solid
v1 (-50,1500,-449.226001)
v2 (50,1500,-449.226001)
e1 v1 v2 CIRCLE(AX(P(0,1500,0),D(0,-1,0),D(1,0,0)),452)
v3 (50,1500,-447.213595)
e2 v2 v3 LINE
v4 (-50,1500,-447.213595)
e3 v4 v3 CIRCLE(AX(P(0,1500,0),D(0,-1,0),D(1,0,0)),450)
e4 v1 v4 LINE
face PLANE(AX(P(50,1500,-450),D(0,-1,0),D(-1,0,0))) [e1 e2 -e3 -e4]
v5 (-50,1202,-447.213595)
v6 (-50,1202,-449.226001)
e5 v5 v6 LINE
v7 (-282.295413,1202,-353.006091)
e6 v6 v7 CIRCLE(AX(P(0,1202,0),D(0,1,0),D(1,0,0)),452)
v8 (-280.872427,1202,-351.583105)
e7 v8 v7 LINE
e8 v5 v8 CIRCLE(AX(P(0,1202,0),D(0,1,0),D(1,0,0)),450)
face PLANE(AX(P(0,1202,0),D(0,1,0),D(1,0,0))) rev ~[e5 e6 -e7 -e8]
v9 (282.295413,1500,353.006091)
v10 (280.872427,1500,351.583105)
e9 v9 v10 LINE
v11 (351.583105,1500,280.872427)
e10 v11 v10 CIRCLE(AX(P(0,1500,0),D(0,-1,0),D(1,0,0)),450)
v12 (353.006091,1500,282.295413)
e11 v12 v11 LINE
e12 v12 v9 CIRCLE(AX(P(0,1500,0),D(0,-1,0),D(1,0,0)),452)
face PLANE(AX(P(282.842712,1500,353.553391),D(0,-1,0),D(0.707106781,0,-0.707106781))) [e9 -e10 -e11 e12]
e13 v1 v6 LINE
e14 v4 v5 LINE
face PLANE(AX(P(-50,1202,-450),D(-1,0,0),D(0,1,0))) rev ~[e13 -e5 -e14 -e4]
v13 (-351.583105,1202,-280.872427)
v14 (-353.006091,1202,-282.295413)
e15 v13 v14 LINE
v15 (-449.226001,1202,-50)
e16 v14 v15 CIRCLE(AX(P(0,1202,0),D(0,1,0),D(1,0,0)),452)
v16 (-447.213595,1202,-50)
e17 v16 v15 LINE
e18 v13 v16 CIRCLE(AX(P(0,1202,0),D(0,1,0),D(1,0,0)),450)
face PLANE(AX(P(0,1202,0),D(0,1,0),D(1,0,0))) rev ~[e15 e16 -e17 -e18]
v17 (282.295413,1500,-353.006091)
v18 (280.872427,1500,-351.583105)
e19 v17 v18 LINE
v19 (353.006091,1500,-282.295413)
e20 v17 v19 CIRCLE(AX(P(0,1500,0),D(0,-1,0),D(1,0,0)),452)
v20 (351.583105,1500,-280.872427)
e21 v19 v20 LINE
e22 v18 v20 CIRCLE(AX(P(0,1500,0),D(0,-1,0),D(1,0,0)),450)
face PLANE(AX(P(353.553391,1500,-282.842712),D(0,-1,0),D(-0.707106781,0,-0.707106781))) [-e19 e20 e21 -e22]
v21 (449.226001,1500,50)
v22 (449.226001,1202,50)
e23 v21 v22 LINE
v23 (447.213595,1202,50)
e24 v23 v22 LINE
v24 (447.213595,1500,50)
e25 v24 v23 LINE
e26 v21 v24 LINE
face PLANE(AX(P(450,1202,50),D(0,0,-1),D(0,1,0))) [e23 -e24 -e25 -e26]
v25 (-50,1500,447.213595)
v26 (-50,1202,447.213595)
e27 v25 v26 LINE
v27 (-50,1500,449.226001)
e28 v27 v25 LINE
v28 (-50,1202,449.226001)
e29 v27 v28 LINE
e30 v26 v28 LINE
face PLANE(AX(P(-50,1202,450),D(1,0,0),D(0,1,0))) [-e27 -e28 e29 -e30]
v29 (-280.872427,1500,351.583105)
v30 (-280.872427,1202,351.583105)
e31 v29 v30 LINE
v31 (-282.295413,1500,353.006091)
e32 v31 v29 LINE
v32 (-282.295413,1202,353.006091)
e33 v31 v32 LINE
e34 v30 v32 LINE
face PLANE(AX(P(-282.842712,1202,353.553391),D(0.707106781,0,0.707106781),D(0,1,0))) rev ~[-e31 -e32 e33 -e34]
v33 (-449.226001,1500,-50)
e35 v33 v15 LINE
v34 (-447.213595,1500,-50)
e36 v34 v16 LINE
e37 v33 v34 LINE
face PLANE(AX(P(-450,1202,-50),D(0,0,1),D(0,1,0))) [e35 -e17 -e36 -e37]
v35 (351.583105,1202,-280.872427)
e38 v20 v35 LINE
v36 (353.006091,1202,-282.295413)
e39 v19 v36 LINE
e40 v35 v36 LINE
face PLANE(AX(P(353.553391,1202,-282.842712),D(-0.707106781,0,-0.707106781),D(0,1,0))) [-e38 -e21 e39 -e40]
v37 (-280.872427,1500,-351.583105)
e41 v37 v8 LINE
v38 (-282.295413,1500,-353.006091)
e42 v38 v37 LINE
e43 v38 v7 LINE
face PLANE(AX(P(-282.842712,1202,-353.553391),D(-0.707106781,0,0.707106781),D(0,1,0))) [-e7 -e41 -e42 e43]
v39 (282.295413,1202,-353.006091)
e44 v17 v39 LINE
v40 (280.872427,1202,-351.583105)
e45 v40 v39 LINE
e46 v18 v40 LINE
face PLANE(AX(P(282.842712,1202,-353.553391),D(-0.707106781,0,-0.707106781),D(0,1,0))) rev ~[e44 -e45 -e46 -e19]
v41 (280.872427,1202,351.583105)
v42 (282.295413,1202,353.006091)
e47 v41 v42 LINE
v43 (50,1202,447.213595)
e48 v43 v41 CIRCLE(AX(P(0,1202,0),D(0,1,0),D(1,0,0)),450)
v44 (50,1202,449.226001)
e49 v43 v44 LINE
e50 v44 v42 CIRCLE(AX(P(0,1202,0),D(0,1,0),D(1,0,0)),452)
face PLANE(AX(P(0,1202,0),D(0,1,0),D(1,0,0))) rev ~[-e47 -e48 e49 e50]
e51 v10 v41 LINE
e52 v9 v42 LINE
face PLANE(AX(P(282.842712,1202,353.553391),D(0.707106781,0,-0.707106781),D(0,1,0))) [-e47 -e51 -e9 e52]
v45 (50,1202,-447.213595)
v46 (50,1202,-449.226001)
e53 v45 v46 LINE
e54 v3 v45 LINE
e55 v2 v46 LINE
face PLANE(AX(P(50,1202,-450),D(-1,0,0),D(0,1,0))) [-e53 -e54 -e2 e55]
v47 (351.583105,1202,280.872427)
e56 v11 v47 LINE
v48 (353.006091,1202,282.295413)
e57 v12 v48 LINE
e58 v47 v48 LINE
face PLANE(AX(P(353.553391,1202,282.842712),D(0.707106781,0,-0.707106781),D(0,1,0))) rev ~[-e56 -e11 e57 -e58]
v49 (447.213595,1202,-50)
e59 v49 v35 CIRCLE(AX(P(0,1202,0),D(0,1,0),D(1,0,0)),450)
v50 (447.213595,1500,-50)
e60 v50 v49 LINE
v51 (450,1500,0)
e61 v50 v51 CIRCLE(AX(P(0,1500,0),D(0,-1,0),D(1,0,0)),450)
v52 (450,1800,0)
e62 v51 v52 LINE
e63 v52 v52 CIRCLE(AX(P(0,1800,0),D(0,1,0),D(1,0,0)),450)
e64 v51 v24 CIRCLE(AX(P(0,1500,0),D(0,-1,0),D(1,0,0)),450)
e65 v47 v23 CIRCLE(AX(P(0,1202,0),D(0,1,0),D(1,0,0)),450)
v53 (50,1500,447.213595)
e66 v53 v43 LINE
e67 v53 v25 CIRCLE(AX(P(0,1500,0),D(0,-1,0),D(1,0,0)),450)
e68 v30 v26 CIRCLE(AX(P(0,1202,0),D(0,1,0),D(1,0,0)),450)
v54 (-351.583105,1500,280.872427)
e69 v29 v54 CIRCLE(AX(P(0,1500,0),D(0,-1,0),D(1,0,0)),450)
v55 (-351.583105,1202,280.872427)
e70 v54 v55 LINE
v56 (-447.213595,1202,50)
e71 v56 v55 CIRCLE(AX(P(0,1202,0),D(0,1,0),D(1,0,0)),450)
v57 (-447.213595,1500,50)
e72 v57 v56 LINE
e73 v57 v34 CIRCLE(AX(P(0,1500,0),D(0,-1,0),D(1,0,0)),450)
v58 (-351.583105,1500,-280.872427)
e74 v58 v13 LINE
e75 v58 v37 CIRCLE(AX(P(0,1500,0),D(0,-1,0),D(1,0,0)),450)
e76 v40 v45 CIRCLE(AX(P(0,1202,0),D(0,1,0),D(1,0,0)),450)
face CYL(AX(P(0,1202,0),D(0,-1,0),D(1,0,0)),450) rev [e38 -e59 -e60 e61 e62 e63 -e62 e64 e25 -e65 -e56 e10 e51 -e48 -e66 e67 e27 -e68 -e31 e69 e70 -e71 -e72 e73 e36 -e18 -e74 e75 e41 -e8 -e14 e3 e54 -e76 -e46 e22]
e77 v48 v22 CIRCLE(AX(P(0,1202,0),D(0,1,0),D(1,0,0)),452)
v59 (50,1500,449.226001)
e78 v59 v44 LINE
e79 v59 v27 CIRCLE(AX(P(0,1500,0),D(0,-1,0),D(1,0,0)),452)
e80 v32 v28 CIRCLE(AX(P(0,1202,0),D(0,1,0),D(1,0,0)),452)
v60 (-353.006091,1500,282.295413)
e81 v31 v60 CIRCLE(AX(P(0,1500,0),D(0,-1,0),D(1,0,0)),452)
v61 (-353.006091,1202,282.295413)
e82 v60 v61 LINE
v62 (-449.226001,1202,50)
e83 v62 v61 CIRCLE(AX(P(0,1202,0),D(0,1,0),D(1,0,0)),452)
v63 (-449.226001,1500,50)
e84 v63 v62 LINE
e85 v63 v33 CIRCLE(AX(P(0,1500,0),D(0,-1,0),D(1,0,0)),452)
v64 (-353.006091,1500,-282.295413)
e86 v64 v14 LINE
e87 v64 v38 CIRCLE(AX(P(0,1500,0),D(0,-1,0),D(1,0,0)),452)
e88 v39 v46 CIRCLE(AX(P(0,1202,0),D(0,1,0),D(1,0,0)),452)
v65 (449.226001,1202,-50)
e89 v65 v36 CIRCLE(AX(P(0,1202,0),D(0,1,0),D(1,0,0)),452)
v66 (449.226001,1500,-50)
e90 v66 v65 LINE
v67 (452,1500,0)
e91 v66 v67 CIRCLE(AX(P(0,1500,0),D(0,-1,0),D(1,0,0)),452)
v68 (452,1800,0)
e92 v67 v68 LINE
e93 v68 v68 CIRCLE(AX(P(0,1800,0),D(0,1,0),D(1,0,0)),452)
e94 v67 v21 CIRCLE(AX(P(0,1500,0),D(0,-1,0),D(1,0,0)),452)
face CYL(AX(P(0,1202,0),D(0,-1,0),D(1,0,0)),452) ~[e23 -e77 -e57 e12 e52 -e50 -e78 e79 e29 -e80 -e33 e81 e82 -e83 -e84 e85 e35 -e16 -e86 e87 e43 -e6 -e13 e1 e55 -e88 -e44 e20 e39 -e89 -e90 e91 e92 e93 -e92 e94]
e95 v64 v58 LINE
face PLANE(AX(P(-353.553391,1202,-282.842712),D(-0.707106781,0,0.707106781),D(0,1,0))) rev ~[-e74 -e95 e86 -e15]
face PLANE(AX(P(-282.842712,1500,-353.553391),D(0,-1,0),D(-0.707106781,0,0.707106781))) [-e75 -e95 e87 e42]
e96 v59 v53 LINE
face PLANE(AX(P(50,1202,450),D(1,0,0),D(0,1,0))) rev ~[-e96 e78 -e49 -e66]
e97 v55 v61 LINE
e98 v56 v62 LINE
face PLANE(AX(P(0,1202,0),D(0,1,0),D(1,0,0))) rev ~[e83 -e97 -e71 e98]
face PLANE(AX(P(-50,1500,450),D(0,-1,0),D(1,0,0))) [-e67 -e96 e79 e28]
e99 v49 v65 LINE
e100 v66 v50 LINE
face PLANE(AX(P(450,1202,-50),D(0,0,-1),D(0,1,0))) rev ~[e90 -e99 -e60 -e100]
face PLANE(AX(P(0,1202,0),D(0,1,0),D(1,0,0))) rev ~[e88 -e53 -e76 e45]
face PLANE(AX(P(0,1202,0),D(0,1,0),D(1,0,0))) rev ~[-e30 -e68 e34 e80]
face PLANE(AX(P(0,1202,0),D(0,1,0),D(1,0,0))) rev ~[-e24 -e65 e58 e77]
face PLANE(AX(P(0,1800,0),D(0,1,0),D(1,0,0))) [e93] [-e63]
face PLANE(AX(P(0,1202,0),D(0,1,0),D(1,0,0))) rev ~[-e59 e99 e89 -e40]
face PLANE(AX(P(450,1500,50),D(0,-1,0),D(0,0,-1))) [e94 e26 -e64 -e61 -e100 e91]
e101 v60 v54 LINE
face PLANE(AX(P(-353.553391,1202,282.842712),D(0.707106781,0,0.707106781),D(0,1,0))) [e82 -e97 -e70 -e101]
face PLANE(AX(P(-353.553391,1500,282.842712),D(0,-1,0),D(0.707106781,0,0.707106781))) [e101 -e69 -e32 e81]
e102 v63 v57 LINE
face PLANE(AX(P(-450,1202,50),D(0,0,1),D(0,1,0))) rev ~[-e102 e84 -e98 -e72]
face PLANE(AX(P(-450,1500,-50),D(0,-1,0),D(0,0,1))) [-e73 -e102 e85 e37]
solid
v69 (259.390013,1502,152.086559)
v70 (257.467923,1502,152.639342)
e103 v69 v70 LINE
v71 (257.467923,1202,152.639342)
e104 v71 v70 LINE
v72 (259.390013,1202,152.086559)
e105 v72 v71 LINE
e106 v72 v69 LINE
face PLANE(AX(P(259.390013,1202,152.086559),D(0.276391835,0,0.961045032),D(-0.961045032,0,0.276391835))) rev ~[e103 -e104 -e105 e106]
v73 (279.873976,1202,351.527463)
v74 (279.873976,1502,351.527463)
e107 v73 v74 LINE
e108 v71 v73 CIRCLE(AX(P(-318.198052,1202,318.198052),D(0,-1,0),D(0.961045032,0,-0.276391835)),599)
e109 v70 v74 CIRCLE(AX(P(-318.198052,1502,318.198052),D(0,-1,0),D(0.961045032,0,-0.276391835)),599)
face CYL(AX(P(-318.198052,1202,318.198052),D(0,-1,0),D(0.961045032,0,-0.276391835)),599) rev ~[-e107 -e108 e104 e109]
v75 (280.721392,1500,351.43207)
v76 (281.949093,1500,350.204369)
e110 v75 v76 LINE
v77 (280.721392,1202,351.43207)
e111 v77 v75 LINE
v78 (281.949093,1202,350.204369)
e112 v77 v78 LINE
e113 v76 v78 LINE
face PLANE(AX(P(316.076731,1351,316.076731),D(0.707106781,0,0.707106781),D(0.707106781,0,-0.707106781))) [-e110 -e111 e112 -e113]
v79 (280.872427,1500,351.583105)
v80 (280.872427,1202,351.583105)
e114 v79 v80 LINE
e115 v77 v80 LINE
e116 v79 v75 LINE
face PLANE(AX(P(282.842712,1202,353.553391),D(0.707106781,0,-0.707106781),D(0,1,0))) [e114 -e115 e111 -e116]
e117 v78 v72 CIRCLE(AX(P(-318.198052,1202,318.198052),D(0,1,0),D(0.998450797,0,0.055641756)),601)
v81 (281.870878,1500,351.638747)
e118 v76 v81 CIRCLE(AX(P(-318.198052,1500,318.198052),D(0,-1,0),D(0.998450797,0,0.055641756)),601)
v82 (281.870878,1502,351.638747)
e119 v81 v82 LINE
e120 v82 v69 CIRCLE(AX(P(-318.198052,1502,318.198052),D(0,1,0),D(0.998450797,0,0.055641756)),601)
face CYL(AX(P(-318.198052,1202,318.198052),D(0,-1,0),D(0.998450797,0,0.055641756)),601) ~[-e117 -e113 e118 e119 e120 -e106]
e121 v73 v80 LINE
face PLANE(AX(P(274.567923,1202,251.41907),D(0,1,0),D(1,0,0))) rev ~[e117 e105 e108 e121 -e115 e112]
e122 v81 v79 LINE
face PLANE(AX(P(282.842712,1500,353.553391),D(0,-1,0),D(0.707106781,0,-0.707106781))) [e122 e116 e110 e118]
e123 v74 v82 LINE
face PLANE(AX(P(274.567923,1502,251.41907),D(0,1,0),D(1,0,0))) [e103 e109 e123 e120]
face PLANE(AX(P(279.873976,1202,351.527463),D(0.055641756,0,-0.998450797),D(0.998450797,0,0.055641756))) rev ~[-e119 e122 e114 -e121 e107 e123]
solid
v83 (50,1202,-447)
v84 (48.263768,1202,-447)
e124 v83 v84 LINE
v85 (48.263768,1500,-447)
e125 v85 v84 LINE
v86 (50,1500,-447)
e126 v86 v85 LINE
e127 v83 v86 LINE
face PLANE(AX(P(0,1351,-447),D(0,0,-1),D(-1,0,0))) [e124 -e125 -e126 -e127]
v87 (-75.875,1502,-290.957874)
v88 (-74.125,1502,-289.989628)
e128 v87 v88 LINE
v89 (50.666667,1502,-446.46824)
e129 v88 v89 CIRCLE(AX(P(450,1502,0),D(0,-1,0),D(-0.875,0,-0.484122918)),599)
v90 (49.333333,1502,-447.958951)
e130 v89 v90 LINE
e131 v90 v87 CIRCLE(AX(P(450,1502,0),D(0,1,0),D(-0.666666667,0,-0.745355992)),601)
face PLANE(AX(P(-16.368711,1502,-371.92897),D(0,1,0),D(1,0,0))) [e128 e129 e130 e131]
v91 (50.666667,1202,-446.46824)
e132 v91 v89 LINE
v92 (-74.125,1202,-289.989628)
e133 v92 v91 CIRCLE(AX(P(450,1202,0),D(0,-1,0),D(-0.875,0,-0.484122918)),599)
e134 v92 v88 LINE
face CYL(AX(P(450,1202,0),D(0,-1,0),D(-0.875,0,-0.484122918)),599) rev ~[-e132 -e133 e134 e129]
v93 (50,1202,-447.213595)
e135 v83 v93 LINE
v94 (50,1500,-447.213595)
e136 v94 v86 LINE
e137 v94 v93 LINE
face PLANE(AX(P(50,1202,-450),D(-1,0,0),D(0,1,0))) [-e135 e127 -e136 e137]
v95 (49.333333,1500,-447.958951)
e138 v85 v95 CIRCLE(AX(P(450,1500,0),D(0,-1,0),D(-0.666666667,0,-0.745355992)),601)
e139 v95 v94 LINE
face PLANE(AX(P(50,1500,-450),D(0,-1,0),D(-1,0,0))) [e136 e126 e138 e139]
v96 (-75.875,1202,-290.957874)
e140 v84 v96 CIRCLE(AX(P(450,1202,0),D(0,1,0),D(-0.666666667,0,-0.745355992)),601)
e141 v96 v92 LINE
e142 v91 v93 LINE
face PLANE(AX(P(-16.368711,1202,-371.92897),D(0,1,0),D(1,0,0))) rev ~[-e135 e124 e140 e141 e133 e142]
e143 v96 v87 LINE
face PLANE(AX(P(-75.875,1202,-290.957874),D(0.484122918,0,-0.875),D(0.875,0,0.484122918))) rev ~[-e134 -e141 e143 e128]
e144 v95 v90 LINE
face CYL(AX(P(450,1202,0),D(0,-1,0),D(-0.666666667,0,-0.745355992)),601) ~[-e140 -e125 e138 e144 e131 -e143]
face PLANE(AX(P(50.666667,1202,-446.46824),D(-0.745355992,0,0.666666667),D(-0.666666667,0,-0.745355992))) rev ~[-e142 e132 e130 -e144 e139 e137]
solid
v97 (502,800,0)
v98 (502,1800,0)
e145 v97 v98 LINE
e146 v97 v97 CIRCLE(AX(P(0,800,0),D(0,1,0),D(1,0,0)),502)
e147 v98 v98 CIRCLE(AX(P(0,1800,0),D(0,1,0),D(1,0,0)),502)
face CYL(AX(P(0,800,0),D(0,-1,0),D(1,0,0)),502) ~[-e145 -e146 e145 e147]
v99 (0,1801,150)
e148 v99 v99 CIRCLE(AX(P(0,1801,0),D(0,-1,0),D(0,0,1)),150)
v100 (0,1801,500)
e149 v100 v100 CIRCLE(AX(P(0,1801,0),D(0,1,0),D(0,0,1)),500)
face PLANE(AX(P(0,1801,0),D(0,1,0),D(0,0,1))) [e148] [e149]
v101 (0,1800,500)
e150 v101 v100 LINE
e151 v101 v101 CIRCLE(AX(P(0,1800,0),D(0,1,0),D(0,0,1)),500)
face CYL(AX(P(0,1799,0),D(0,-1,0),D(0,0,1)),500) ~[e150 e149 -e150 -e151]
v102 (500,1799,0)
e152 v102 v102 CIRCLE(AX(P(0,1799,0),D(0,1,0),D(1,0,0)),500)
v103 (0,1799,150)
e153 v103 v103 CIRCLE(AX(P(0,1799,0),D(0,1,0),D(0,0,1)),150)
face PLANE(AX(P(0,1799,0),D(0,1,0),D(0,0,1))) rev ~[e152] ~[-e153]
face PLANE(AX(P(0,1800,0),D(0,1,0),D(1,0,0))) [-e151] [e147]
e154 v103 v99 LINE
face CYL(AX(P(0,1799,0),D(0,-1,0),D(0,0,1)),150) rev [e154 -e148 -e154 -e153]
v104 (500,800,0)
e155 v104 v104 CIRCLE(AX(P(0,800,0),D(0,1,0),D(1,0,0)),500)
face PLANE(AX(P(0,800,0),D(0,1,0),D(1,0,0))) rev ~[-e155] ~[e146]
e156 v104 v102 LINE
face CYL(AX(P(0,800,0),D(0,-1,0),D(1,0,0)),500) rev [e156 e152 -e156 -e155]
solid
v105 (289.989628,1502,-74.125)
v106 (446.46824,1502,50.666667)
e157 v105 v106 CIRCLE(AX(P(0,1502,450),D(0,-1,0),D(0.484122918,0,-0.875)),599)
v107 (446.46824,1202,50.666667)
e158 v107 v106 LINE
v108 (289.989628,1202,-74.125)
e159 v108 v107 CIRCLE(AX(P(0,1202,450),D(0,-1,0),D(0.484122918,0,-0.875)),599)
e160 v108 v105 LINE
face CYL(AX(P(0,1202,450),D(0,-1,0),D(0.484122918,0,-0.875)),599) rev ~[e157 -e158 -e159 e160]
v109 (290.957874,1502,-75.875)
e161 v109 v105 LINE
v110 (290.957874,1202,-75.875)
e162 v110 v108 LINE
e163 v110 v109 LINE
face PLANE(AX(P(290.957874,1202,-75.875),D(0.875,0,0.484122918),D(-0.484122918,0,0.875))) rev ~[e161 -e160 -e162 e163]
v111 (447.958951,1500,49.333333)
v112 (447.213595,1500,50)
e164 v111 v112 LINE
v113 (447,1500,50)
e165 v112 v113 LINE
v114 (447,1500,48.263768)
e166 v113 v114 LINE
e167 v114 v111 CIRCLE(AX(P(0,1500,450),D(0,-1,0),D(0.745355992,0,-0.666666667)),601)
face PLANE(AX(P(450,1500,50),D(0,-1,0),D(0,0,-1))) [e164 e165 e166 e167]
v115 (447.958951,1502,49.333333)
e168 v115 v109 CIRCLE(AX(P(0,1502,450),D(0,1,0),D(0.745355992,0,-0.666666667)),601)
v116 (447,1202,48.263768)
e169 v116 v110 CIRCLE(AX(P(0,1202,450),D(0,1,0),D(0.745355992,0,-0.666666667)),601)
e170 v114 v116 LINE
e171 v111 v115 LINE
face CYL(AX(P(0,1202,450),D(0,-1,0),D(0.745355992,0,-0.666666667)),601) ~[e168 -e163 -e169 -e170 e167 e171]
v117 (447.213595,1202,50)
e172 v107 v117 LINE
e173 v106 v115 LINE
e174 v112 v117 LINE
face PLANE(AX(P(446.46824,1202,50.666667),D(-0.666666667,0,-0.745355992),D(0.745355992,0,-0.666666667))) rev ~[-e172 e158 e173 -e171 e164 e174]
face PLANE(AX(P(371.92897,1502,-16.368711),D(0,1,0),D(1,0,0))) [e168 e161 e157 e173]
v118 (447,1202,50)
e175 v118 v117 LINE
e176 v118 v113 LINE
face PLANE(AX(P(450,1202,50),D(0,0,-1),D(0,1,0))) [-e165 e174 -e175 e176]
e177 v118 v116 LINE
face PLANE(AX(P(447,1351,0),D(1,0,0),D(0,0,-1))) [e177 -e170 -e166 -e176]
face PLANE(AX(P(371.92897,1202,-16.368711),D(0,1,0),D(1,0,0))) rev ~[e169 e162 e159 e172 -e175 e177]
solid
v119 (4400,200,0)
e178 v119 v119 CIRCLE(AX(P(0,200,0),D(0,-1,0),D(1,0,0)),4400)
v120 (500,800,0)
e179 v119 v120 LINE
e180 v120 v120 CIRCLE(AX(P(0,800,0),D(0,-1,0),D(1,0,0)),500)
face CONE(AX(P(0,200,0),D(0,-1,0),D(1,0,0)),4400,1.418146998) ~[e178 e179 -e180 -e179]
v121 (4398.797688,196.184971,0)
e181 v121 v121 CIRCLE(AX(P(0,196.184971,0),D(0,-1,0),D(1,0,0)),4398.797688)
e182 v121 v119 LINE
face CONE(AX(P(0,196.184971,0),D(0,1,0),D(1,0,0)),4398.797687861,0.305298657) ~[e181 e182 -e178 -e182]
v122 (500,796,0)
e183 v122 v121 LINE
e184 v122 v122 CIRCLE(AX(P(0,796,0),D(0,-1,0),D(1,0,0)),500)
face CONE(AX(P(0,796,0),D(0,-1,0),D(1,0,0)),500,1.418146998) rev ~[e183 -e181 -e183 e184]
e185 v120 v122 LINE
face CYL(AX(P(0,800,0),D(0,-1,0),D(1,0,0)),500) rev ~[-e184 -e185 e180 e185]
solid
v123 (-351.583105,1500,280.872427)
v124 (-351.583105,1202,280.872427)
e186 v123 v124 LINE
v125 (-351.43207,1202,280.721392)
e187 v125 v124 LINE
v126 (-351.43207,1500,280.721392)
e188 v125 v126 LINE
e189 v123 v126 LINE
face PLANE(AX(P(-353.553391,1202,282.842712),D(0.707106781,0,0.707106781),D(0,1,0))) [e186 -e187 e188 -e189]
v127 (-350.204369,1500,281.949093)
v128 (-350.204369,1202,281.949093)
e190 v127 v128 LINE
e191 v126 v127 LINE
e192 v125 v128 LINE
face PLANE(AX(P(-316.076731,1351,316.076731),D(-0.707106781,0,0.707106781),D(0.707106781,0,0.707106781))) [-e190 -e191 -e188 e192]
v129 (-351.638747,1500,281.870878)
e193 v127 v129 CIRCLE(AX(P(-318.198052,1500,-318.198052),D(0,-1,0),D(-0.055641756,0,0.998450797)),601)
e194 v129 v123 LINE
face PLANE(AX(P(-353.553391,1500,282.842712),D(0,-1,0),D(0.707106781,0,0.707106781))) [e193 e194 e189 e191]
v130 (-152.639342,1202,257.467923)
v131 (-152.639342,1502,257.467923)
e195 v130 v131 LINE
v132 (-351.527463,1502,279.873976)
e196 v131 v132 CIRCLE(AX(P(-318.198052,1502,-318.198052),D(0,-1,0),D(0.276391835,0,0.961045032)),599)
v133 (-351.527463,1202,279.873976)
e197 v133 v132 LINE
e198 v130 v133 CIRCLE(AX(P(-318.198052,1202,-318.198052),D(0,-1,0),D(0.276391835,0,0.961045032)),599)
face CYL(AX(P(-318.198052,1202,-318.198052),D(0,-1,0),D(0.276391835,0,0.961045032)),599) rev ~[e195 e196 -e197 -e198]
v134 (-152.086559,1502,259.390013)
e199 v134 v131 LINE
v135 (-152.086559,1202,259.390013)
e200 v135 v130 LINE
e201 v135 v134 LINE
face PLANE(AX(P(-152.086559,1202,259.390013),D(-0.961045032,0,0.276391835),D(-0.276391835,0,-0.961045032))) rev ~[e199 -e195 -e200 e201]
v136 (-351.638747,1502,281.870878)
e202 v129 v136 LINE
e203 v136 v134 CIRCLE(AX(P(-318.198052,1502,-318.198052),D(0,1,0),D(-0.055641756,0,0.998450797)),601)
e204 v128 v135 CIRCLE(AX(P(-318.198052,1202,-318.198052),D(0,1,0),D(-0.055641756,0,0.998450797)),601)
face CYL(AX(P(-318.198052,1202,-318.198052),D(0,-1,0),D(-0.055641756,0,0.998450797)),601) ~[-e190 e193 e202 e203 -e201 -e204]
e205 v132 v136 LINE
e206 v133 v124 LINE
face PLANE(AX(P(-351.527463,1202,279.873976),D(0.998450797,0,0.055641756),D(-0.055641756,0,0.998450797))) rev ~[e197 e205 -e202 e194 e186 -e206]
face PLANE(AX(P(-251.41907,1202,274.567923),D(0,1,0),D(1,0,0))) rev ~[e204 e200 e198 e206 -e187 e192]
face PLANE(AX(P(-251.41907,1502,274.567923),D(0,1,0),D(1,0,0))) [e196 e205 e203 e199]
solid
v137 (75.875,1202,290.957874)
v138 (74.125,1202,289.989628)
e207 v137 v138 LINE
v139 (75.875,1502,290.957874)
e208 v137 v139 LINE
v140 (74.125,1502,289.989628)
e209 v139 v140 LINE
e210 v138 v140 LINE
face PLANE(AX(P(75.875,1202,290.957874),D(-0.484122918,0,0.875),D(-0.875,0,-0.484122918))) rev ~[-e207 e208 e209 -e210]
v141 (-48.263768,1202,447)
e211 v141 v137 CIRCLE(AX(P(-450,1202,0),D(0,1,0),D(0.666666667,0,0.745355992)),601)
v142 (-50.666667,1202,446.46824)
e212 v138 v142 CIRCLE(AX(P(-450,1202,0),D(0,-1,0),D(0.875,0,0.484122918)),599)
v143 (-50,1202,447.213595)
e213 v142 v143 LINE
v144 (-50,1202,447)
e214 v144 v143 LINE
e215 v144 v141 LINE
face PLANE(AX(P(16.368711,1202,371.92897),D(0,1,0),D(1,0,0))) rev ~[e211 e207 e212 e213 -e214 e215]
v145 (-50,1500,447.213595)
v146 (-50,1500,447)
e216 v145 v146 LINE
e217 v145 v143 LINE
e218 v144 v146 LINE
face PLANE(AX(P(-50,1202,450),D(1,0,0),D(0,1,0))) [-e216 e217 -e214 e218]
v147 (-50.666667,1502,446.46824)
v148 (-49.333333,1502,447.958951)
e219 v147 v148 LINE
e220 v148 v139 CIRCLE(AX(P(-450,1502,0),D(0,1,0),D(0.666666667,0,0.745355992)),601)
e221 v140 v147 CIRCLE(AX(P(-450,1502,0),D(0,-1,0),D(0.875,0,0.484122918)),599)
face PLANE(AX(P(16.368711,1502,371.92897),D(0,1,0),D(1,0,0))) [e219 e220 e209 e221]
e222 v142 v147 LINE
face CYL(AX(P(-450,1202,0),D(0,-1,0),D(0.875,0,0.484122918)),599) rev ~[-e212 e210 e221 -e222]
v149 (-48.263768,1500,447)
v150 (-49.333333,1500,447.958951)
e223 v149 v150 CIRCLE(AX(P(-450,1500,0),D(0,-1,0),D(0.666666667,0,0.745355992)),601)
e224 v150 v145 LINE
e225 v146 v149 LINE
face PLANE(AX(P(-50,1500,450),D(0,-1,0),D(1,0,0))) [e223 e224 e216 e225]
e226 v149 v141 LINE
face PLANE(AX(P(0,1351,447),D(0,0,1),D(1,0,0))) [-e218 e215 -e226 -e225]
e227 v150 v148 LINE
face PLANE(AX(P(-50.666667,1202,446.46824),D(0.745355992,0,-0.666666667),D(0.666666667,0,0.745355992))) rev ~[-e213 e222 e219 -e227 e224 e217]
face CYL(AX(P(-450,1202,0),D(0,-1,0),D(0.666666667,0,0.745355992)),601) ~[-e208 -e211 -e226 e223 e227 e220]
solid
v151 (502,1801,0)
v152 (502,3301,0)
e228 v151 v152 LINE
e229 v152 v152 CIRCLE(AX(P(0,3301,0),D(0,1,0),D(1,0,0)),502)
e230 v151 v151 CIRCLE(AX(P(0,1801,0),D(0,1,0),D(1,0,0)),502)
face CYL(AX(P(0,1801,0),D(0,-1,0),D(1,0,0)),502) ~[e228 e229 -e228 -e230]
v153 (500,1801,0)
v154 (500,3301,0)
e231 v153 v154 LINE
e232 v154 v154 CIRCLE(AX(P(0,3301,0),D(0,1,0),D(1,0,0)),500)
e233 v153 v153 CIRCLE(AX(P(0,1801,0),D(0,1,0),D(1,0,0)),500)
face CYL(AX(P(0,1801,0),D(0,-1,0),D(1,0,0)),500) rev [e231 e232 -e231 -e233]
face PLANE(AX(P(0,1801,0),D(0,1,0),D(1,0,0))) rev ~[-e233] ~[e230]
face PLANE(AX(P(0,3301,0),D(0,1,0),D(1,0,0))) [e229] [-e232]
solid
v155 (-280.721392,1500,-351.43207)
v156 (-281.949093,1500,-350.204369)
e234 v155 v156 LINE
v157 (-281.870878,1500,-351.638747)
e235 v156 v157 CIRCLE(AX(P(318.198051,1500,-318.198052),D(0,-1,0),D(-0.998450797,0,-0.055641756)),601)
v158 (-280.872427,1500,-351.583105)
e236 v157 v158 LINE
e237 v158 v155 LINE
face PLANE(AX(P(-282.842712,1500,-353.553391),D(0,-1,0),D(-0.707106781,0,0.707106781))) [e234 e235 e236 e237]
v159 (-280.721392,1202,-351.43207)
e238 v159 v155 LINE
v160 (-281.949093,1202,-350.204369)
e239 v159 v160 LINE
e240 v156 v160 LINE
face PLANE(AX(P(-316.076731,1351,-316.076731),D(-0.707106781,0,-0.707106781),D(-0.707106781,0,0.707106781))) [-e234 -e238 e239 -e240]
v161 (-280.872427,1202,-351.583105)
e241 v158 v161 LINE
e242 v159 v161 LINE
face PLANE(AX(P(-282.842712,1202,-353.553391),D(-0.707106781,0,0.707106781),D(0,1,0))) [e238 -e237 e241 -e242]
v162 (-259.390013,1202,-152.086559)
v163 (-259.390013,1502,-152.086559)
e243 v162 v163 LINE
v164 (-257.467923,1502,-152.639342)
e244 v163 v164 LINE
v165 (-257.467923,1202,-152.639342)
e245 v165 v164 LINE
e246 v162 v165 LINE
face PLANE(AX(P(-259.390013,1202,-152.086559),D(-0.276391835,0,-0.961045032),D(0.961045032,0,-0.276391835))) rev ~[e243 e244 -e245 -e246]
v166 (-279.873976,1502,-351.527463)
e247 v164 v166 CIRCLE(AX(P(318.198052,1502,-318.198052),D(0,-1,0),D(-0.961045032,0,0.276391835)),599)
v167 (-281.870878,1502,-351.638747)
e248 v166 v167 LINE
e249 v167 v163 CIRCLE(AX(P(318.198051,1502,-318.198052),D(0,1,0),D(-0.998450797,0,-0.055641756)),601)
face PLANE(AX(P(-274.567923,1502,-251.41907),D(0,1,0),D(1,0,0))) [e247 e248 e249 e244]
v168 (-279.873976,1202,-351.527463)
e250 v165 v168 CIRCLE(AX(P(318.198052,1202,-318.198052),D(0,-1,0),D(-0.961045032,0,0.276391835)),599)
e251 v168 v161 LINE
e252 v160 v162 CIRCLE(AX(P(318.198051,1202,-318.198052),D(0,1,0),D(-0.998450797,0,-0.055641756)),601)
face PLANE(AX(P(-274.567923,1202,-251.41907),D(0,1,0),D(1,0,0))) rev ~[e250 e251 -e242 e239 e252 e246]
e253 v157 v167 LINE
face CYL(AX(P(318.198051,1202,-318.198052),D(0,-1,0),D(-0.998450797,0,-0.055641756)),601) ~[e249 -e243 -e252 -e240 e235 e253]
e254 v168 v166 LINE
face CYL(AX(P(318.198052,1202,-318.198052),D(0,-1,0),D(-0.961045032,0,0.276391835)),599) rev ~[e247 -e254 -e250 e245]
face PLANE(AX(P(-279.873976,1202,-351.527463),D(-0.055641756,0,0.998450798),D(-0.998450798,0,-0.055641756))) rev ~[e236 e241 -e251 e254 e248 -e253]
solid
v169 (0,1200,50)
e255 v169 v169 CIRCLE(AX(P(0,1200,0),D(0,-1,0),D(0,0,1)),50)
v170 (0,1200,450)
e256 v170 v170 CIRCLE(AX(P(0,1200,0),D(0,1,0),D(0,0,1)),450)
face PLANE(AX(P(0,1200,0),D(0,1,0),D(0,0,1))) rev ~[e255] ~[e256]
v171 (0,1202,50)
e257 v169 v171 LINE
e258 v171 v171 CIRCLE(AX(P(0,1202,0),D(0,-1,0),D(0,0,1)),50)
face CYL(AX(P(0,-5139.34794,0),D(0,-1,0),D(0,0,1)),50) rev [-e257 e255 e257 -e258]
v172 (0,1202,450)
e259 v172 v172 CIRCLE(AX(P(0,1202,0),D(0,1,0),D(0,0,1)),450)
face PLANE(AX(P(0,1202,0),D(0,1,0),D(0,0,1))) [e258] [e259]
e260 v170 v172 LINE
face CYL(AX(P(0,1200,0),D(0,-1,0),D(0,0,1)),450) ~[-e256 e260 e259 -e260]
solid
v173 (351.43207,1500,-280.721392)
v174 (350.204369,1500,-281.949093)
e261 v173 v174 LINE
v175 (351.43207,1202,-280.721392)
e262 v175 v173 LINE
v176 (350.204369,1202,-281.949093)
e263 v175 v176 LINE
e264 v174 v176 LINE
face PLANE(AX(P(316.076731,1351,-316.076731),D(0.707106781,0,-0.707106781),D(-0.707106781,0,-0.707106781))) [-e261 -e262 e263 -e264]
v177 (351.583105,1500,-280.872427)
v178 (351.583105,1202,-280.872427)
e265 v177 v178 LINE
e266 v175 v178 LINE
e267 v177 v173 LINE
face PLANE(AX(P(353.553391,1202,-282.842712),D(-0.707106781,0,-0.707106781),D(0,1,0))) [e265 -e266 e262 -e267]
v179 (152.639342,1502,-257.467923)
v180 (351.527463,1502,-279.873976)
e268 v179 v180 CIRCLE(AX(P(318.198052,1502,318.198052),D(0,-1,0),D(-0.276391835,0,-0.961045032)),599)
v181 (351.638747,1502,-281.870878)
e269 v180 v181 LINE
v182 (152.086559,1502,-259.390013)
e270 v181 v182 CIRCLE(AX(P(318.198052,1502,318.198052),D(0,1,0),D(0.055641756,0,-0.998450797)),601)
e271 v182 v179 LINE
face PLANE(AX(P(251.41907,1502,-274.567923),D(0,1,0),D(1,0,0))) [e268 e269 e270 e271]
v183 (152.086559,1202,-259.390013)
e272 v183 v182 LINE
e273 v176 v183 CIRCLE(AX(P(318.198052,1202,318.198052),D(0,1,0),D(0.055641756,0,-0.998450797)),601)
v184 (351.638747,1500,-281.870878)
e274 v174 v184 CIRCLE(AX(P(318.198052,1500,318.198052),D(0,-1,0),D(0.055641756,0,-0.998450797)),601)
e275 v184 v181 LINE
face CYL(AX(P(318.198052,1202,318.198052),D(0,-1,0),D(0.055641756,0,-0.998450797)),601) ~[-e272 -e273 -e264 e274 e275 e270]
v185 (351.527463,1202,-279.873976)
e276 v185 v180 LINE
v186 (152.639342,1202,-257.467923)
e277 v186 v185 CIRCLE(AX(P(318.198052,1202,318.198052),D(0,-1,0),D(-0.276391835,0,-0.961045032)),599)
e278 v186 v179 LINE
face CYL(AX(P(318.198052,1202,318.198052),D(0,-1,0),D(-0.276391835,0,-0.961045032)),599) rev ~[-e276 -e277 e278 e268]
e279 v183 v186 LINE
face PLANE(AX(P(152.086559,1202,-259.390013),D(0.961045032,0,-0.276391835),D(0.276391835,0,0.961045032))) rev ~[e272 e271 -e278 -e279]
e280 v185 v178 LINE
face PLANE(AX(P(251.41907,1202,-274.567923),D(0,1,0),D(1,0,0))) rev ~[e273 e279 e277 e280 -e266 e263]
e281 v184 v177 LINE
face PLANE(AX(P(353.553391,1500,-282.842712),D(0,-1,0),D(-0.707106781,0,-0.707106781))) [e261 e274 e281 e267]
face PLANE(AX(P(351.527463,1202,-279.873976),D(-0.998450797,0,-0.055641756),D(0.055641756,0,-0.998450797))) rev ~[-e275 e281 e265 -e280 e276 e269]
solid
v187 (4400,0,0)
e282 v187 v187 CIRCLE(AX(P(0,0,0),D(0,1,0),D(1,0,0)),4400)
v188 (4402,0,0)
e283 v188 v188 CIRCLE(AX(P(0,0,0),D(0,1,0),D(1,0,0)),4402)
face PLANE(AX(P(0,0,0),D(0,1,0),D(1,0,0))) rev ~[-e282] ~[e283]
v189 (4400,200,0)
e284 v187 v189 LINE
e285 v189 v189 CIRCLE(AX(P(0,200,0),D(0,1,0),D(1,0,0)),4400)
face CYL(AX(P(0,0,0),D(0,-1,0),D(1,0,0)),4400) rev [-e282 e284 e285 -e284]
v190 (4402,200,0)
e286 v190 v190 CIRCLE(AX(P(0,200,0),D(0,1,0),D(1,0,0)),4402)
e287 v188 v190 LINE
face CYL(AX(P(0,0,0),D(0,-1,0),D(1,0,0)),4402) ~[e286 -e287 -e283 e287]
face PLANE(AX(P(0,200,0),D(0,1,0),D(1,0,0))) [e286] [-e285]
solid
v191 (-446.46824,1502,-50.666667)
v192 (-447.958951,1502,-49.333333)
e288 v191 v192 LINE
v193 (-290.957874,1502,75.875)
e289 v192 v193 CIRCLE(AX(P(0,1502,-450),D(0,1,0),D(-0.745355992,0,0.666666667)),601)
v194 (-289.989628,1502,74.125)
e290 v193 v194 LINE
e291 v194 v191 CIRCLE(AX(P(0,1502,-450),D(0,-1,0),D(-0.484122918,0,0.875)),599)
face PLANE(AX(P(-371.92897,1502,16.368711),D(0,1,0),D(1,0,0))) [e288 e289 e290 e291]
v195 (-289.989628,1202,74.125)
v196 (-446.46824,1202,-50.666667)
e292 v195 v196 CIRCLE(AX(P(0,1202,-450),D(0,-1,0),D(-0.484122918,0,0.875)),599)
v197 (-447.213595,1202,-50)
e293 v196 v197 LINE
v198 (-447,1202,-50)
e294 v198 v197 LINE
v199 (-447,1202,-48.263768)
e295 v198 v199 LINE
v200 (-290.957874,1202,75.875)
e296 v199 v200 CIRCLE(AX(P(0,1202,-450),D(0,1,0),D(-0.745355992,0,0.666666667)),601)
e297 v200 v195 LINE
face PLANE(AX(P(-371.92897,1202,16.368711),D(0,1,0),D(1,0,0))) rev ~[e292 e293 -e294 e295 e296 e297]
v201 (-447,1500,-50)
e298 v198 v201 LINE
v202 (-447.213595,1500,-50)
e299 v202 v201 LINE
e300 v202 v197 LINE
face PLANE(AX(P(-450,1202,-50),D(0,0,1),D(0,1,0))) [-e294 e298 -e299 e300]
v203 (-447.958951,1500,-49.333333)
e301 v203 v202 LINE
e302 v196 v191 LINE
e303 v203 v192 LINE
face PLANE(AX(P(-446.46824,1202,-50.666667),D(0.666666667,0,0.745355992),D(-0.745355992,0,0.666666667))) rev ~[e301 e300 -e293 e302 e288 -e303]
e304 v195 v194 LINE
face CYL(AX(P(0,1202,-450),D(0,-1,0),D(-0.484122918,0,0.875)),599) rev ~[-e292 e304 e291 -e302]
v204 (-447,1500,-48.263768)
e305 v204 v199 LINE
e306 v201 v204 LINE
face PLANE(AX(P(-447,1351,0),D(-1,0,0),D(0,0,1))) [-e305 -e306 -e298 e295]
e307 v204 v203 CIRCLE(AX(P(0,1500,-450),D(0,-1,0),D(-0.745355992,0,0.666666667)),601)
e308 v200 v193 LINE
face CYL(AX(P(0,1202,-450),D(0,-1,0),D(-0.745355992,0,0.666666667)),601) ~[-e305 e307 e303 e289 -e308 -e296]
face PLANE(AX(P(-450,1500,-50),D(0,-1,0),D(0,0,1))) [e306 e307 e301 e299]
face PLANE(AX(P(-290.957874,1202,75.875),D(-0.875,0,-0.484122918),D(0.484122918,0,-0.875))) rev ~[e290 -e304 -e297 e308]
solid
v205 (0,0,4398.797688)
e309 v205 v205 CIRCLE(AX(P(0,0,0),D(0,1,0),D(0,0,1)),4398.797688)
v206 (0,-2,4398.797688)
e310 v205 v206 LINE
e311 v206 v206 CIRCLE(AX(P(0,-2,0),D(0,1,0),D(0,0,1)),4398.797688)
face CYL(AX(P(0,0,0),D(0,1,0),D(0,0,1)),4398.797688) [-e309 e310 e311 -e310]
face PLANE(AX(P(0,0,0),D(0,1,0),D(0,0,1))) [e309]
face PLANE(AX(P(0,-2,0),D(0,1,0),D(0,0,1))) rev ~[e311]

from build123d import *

# Parameters (mm, degrees)
SKETCH1_R                = 4402
SKETCH1_R_2              = 4400
EXTRUDE_THIN1_DEPTH      = 200
SKETCH5_R                = 502
SKETCH5_R_2              = 500
EXTRUDE_THIN2_DEPTH      = 1000
SKETCH7_R                = 450
BOSS_EXTRUDE2_DEPTH      = 2
CUT_EXTRUDE1_DEPTH       = 6341.347939979
CUT_EXTRUDE1_DEPTH_BACK  = 6341.347939979
SKETCH8_R                = 50
EXTRUDE_THIN3_DEPTH      = 300
EXTRUDE_THIN3_2_DEPTH    = 300
EXTRUDE_THIN3_3_DEPTH    = 300
EXTRUDE_THIN3_4_DEPTH    = 300
EXTRUDE_THIN3_5_DEPTH    = 300
EXTRUDE_THIN3_6_DEPTH    = 300
EXTRUDE_THIN3_7_DEPTH    = 300
EXTRUDE_THIN3_8_DEPTH    = 300
SKETCH10_R               = 452
SKETCH10_R_2             = 450
EXTRUDE_THIN4_DEPTH      = 598
SKETCH12_W               = 100
SKETCH12_H               = 298
CUT_EXTRUDE7_DEPTH       = 3
CIRPATTERN1_COUNT        = 8
BOSS_EXTRUDE5_DEPTH      = 1
BOSS_EXTRUDE5_DEPTH_BACK = 1
SKETCH13_R               = 500
CUT_EXTRUDE8_DEPTH       = 10
CUT_EXTRUDE8_DEPTH_BACK  = 2
SKETCH14_R               = 150
SKETCH15_R               = 502
SKETCH15_R_2             = 500
EXTRUDE_THIN5_DEPTH      = 1500
SKETCH16_R               = 4398.797687861
BOSS_EXTRUDE6_DEPTH      = 2


with BuildPart() as part:
    # Sketch1 → Extrude-Thin1 (new body)
    with BuildSketch(Plane(origin=(0, 0, 0), x_dir=(1, 0, 0), z_dir=(0, 1, 0))):
        Circle(SKETCH1_R)
        Circle(SKETCH1_R_2, mode=Mode.SUBTRACT)
    extrude(amount=EXTRUDE_THIN1_DEPTH)


with BuildPart() as body_2:
    # Sketch2 → Revolve1 (revolve)
    with BuildSketch(Plane.XY, mode=Mode.PRIVATE) as revolve1_sk:
        Polygon((-4398.797687861, 196.184971098), (-4400, 200), (-500, 800), (-500, 796), align=None)
    revolve(revolve1_sk.sketch.rotate(Axis((0, 796, 0), (0, -1, 0)), 180), axis=Axis((0, 796, 0), (0, -1, 0)))


with BuildPart() as body_3:
    # Sketch5 → Extrude-Thin2 (new body)
    with BuildSketch(Plane(origin=(0, 800, 0), x_dir=(1, 0, 0), z_dir=(0, 1, 0))):
        Circle(SKETCH5_R)
        Circle(SKETCH5_R_2, mode=Mode.SUBTRACT)
    extrude(amount=EXTRUDE_THIN2_DEPTH)

    # Sketch13 → Boss-Extrude5 (add, two sides: drawn at the far end of the back side and taken through both)
    with BuildSketch(Plane(origin=(0, 1800, 0), x_dir=(1, 0, 0), z_dir=(0, 1, 0)).offset(-BOSS_EXTRUDE5_DEPTH_BACK)):
        with Locations(Location((0, 0, 0), (0, 0, 270))):
            Circle(SKETCH13_R)
    extrude(amount=BOSS_EXTRUDE5_DEPTH + BOSS_EXTRUDE5_DEPTH_BACK)

    # Sketch14 → Cut-Extrude8 (cut, two sides: drawn at the far end of the back side and taken through both)
    with BuildSketch(Plane(origin=(0, 1801, 0), x_dir=(1, 0, 0), z_dir=(0, 1, 0)).offset(-CUT_EXTRUDE8_DEPTH_BACK)):
        with Locations(Location((0, 0, 0), (0, 0, 270))):
            Circle(SKETCH14_R)
    extrude(amount=CUT_EXTRUDE8_DEPTH + CUT_EXTRUDE8_DEPTH_BACK, mode=Mode.SUBTRACT)


with BuildPart() as body_4:
    # Sketch7 → Boss-Extrude2 (new body)
    with BuildSketch(Plane(origin=(0, 1200, 0), x_dir=(1, 0, 0), z_dir=(0, 1, 0))):
        with Locations(Location((0, 0, 0), (0, 0, 270))):
            Circle(SKETCH7_R)
    extrude(amount=BOSS_EXTRUDE2_DEPTH)

    # Sketch8 → Cut-Extrude1 (cut, two sides: drawn at the far end of the back side and taken through both)
    with BuildSketch(Plane(origin=(0, 1202, 0), x_dir=(1, 0, 0), z_dir=(0, 1, 0)).offset(-CUT_EXTRUDE1_DEPTH_BACK)):
        with Locations(Location((0, 0, 0), (0, 0, 270))):
            Circle(SKETCH8_R)
    extrude(amount=CUT_EXTRUDE1_DEPTH + CUT_EXTRUDE1_DEPTH_BACK, mode=Mode.SUBTRACT)


with BuildPart() as body_5:
    # Sketch9 → Extrude-Thin3 (new body)
    with BuildSketch(Plane(origin=(0, 1202, 0), x_dir=(1, 0, 0), z_dir=(0, 1, 0))):
        with BuildLine():
            ThreePointArc((-447.958951492, 49.333333333), (-374.724966329, -19.874663724), (-290.957873884, -75.875))
            Line((-290.957873884, -75.875), (-289.989628047, -74.125))
            ThreePointArc((-289.989628047, -74.125), (-373.477961449, -18.311020916), (-446.468239507, 50.666666667))
            Line((-446.468239507, 50.666666667), (-447.958951492, 49.333333333))
        make_face()
    extrude(amount=EXTRUDE_THIN3_DEPTH)


with BuildPart() as body_6:
    # Sketch9 → Extrude-Thin3 2 (new body)
    with BuildSketch(Plane(origin=(0, 1202, 0), x_dir=(1, 0, 0), z_dir=(0, 1, 0))):
        with BuildLine():
            ThreePointArc((-351.638746832, -281.870877755), (-250.917055278, -279.024074264), (-152.08655864, -259.390012685))
            Line((-152.08655864, -259.390012685), (-152.639342311, -257.467922621))
            ThreePointArc((-152.639342311, -257.467922621), (-251.140952104, -277.036646225), (-351.52746332, -279.87397616))
            Line((-351.52746332, -279.87397616), (-351.638746832, -281.870877755))
        make_face()
    extrude(amount=EXTRUDE_THIN3_2_DEPTH)


with BuildPart() as body_7:
    # Sketch9 → Extrude-Thin3 3 (new body)
    with BuildSketch(Plane(origin=(0, 1202, 0), x_dir=(1, 0, 0), z_dir=(0, 1, 0))):
        with BuildLine():
            ThreePointArc((-49.333333333, -447.958951492), (19.874663724, -374.724966329), (75.875, -290.957873884))
            Line((75.875, -290.957873884), (74.125, -289.989628047))
            ThreePointArc((74.125, -289.989628047), (18.311020917, -373.477961449), (-50.666666667, -446.468239507))
            Line((-50.666666667, -446.468239507), (-49.333333333, -447.958951492))
        make_face()
    extrude(amount=EXTRUDE_THIN3_3_DEPTH)


with BuildPart() as body_8:
    # Sketch9 → Extrude-Thin3 4 (new body)
    with BuildSketch(Plane(origin=(0, 1202, 0), x_dir=(1, 0, 0), z_dir=(0, 1, 0))):
        with BuildLine():
            ThreePointArc((49.333333333, 447.958951492), (-19.874663724, 374.724966329), (-75.875, 290.957873884))
            Line((-75.875, 290.957873884), (-74.125, 289.989628047))
            ThreePointArc((-74.125, 289.989628047), (-18.311020917, 373.477961449), (50.666666667, 446.468239507))
            Line((50.666666667, 446.468239507), (49.333333333, 447.958951492))
        make_face()
    extrude(amount=EXTRUDE_THIN3_4_DEPTH)


with BuildPart() as body_9:
    # Sketch9 → Extrude-Thin3 5 (new body)
    with BuildSketch(Plane(origin=(0, 1202, 0), x_dir=(1, 0, 0), z_dir=(0, 1, 0))):
        with BuildLine():
            ThreePointArc((-281.870877754, 351.638746831), (-279.024074264, 250.917055277), (-259.390012685, 152.08655864))
            Line((-259.390012685, 152.08655864), (-257.467922621, 152.63934231))
            ThreePointArc((-257.467922621, 152.63934231), (-277.036646224, 251.140952103), (-279.873976159, 351.52746332))
            Line((-279.873976159, 351.52746332), (-281.870877754, 351.638746831))
        make_face()
    extrude(amount=EXTRUDE_THIN3_5_DEPTH)


with BuildPart() as body_10:
    # Sketch9 → Extrude-Thin3 6 (new body)
    with BuildSketch(Plane(origin=(0, 1202, 0), x_dir=(1, 0, 0), z_dir=(0, 1, 0))):
        with BuildLine():
            ThreePointArc((351.638746832, 281.870877755), (250.917055278, 279.024074264), (152.08655864, 259.390012685))
            Line((152.08655864, 259.390012685), (152.639342311, 257.467922621))
            ThreePointArc((152.639342311, 257.467922621), (251.140952104, 277.036646225), (351.52746332, 279.87397616))
            Line((351.52746332, 279.87397616), (351.638746832, 281.870877755))
        make_face()
    extrude(amount=EXTRUDE_THIN3_6_DEPTH)


with BuildPart() as body_11:
    # Sketch9 → Extrude-Thin3 7 (new body)
    with BuildSketch(Plane(origin=(0, 1202, 0), x_dir=(1, 0, 0), z_dir=(0, 1, 0))):
        with BuildLine():
            ThreePointArc((447.958951492, -49.333333333), (374.724966329, 19.874663724), (290.957873884, 75.875))
            Line((290.957873884, 75.875), (289.989628047, 74.125))
            ThreePointArc((289.989628047, 74.125), (373.477961449, 18.311020916), (446.468239507, -50.666666667))
            Line((446.468239507, -50.666666667), (447.958951492, -49.333333333))
        make_face()
    extrude(amount=EXTRUDE_THIN3_7_DEPTH)


with BuildPart() as body_12:
    # Sketch9 → Extrude-Thin3 8 (new body)
    with BuildSketch(Plane(origin=(0, 1202, 0), x_dir=(1, 0, 0), z_dir=(0, 1, 0))):
        with BuildLine():
            ThreePointArc((281.870877756, -351.638746833), (279.024074265, -250.917055278), (259.390012686, -152.086558641))
            Line((259.390012686, -152.086558641), (257.467922622, -152.639342311))
            ThreePointArc((257.467922622, -152.639342311), (277.036646225, -251.140952105), (279.873976161, -351.527463321))
            Line((279.873976161, -351.527463321), (281.870877756, -351.638746833))
        make_face()
    extrude(amount=EXTRUDE_THIN3_8_DEPTH)


with BuildPart() as body_13:
    # Sketch10 → Extrude-Thin4 (new body)
    with BuildSketch(Plane(origin=(0, 1202, 0), x_dir=(1, 0, 0), z_dir=(0, 1, 0))):
        Circle(SKETCH10_R)
        Circle(SKETCH10_R_2, mode=Mode.SUBTRACT)
    extrude(amount=EXTRUDE_THIN4_DEPTH)


with BuildPart() as cut_extrude7_tool:
    # Sketch12 → Cut-Extrude7 (new, symmetric)
    with BuildSketch(Plane.XY.offset(450)):
        with Locations((0, 1351)):
            Rectangle(SKETCH12_W, SKETCH12_H)
    cut_extrude7 = extrude(amount=CUT_EXTRUDE7_DEPTH, both=True)


with BuildPart() as body_7_1:
    add(body_7.part)

    # Cut-Extrude7: cut by cut_extrude7_tool
    add(cut_extrude7_tool.part, mode=Mode.SUBTRACT)


with BuildPart() as body_13_1:
    add(body_13.part)

    # Cut-Extrude7: cut by cut_extrude7_tool
    add(cut_extrude7_tool.part, mode=Mode.SUBTRACT)


with BuildPart() as cirpattern1_tool:
    # CirPattern1: Cut-Extrude7 ×8 about axis
    cirpattern1_axis = Axis((0, 0, 0), (0, 1, 0))
    for i in range(1, CIRPATTERN1_COUNT):
        add(cut_extrude7.rotate(cirpattern1_axis, i * 360 / CIRPATTERN1_COUNT))


with BuildPart() as body_5_1:
    add(body_5.part)

    # CirPattern1: cut by cirpattern1_tool
    add(cirpattern1_tool.part, mode=Mode.SUBTRACT)


with BuildPart() as body_6_1:
    add(body_6.part)

    # CirPattern1: cut by cirpattern1_tool
    add(cirpattern1_tool.part, mode=Mode.SUBTRACT)


with BuildPart() as body_8_1:
    add(body_8.part)

    # CirPattern1: cut by cirpattern1_tool
    add(cirpattern1_tool.part, mode=Mode.SUBTRACT)


with BuildPart() as body_9_1:
    add(body_9.part)

    # CirPattern1: cut by cirpattern1_tool
    add(cirpattern1_tool.part, mode=Mode.SUBTRACT)


with BuildPart() as body_10_1:
    add(body_10.part)

    # CirPattern1: cut by cirpattern1_tool
    add(cirpattern1_tool.part, mode=Mode.SUBTRACT)


with BuildPart() as body_11_1:
    add(body_11.part)

    # CirPattern1: cut by cirpattern1_tool
    add(cirpattern1_tool.part, mode=Mode.SUBTRACT)


with BuildPart() as body_12_1:
    add(body_12.part)

    # CirPattern1: cut by cirpattern1_tool
    add(cirpattern1_tool.part, mode=Mode.SUBTRACT)


with BuildPart() as body_13_2:
    add(body_13_1.part)

    # CirPattern1: cut by cirpattern1_tool
    add(cirpattern1_tool.part, mode=Mode.SUBTRACT)


with BuildPart() as body_14:
    # Sketch15 → Extrude-Thin5 (new body)
    with BuildSketch(Plane(origin=(0, 1801, 0), x_dir=(1, 0, 0), z_dir=(0, 1, 0))):
        Circle(SKETCH15_R)
        Circle(SKETCH15_R_2, mode=Mode.SUBTRACT)
    extrude(amount=EXTRUDE_THIN5_DEPTH)


with BuildPart() as body_15:
    # Sketch16 → Boss-Extrude6 (new body)
    with BuildSketch(Plane(origin=(0, 0, 0), x_dir=(1, 0, 0), z_dir=(0, 1, 0))):
        with Locations(Location((0, 0, 0), (0, 0, 270))):
            Circle(SKETCH16_R)
    extrude(amount=-BOSS_EXTRUDE6_DEPTH)


solid = Compound([part.part, body_2.part, body_3.part, body_4.part, body_7_1.part, body_5_1.part, body_6_1.part, body_8_1.part, body_9_1.part, body_10_1.part, body_11_1.part, body_12_1.part, body_13_2.part, body_14.part, body_15.part])
